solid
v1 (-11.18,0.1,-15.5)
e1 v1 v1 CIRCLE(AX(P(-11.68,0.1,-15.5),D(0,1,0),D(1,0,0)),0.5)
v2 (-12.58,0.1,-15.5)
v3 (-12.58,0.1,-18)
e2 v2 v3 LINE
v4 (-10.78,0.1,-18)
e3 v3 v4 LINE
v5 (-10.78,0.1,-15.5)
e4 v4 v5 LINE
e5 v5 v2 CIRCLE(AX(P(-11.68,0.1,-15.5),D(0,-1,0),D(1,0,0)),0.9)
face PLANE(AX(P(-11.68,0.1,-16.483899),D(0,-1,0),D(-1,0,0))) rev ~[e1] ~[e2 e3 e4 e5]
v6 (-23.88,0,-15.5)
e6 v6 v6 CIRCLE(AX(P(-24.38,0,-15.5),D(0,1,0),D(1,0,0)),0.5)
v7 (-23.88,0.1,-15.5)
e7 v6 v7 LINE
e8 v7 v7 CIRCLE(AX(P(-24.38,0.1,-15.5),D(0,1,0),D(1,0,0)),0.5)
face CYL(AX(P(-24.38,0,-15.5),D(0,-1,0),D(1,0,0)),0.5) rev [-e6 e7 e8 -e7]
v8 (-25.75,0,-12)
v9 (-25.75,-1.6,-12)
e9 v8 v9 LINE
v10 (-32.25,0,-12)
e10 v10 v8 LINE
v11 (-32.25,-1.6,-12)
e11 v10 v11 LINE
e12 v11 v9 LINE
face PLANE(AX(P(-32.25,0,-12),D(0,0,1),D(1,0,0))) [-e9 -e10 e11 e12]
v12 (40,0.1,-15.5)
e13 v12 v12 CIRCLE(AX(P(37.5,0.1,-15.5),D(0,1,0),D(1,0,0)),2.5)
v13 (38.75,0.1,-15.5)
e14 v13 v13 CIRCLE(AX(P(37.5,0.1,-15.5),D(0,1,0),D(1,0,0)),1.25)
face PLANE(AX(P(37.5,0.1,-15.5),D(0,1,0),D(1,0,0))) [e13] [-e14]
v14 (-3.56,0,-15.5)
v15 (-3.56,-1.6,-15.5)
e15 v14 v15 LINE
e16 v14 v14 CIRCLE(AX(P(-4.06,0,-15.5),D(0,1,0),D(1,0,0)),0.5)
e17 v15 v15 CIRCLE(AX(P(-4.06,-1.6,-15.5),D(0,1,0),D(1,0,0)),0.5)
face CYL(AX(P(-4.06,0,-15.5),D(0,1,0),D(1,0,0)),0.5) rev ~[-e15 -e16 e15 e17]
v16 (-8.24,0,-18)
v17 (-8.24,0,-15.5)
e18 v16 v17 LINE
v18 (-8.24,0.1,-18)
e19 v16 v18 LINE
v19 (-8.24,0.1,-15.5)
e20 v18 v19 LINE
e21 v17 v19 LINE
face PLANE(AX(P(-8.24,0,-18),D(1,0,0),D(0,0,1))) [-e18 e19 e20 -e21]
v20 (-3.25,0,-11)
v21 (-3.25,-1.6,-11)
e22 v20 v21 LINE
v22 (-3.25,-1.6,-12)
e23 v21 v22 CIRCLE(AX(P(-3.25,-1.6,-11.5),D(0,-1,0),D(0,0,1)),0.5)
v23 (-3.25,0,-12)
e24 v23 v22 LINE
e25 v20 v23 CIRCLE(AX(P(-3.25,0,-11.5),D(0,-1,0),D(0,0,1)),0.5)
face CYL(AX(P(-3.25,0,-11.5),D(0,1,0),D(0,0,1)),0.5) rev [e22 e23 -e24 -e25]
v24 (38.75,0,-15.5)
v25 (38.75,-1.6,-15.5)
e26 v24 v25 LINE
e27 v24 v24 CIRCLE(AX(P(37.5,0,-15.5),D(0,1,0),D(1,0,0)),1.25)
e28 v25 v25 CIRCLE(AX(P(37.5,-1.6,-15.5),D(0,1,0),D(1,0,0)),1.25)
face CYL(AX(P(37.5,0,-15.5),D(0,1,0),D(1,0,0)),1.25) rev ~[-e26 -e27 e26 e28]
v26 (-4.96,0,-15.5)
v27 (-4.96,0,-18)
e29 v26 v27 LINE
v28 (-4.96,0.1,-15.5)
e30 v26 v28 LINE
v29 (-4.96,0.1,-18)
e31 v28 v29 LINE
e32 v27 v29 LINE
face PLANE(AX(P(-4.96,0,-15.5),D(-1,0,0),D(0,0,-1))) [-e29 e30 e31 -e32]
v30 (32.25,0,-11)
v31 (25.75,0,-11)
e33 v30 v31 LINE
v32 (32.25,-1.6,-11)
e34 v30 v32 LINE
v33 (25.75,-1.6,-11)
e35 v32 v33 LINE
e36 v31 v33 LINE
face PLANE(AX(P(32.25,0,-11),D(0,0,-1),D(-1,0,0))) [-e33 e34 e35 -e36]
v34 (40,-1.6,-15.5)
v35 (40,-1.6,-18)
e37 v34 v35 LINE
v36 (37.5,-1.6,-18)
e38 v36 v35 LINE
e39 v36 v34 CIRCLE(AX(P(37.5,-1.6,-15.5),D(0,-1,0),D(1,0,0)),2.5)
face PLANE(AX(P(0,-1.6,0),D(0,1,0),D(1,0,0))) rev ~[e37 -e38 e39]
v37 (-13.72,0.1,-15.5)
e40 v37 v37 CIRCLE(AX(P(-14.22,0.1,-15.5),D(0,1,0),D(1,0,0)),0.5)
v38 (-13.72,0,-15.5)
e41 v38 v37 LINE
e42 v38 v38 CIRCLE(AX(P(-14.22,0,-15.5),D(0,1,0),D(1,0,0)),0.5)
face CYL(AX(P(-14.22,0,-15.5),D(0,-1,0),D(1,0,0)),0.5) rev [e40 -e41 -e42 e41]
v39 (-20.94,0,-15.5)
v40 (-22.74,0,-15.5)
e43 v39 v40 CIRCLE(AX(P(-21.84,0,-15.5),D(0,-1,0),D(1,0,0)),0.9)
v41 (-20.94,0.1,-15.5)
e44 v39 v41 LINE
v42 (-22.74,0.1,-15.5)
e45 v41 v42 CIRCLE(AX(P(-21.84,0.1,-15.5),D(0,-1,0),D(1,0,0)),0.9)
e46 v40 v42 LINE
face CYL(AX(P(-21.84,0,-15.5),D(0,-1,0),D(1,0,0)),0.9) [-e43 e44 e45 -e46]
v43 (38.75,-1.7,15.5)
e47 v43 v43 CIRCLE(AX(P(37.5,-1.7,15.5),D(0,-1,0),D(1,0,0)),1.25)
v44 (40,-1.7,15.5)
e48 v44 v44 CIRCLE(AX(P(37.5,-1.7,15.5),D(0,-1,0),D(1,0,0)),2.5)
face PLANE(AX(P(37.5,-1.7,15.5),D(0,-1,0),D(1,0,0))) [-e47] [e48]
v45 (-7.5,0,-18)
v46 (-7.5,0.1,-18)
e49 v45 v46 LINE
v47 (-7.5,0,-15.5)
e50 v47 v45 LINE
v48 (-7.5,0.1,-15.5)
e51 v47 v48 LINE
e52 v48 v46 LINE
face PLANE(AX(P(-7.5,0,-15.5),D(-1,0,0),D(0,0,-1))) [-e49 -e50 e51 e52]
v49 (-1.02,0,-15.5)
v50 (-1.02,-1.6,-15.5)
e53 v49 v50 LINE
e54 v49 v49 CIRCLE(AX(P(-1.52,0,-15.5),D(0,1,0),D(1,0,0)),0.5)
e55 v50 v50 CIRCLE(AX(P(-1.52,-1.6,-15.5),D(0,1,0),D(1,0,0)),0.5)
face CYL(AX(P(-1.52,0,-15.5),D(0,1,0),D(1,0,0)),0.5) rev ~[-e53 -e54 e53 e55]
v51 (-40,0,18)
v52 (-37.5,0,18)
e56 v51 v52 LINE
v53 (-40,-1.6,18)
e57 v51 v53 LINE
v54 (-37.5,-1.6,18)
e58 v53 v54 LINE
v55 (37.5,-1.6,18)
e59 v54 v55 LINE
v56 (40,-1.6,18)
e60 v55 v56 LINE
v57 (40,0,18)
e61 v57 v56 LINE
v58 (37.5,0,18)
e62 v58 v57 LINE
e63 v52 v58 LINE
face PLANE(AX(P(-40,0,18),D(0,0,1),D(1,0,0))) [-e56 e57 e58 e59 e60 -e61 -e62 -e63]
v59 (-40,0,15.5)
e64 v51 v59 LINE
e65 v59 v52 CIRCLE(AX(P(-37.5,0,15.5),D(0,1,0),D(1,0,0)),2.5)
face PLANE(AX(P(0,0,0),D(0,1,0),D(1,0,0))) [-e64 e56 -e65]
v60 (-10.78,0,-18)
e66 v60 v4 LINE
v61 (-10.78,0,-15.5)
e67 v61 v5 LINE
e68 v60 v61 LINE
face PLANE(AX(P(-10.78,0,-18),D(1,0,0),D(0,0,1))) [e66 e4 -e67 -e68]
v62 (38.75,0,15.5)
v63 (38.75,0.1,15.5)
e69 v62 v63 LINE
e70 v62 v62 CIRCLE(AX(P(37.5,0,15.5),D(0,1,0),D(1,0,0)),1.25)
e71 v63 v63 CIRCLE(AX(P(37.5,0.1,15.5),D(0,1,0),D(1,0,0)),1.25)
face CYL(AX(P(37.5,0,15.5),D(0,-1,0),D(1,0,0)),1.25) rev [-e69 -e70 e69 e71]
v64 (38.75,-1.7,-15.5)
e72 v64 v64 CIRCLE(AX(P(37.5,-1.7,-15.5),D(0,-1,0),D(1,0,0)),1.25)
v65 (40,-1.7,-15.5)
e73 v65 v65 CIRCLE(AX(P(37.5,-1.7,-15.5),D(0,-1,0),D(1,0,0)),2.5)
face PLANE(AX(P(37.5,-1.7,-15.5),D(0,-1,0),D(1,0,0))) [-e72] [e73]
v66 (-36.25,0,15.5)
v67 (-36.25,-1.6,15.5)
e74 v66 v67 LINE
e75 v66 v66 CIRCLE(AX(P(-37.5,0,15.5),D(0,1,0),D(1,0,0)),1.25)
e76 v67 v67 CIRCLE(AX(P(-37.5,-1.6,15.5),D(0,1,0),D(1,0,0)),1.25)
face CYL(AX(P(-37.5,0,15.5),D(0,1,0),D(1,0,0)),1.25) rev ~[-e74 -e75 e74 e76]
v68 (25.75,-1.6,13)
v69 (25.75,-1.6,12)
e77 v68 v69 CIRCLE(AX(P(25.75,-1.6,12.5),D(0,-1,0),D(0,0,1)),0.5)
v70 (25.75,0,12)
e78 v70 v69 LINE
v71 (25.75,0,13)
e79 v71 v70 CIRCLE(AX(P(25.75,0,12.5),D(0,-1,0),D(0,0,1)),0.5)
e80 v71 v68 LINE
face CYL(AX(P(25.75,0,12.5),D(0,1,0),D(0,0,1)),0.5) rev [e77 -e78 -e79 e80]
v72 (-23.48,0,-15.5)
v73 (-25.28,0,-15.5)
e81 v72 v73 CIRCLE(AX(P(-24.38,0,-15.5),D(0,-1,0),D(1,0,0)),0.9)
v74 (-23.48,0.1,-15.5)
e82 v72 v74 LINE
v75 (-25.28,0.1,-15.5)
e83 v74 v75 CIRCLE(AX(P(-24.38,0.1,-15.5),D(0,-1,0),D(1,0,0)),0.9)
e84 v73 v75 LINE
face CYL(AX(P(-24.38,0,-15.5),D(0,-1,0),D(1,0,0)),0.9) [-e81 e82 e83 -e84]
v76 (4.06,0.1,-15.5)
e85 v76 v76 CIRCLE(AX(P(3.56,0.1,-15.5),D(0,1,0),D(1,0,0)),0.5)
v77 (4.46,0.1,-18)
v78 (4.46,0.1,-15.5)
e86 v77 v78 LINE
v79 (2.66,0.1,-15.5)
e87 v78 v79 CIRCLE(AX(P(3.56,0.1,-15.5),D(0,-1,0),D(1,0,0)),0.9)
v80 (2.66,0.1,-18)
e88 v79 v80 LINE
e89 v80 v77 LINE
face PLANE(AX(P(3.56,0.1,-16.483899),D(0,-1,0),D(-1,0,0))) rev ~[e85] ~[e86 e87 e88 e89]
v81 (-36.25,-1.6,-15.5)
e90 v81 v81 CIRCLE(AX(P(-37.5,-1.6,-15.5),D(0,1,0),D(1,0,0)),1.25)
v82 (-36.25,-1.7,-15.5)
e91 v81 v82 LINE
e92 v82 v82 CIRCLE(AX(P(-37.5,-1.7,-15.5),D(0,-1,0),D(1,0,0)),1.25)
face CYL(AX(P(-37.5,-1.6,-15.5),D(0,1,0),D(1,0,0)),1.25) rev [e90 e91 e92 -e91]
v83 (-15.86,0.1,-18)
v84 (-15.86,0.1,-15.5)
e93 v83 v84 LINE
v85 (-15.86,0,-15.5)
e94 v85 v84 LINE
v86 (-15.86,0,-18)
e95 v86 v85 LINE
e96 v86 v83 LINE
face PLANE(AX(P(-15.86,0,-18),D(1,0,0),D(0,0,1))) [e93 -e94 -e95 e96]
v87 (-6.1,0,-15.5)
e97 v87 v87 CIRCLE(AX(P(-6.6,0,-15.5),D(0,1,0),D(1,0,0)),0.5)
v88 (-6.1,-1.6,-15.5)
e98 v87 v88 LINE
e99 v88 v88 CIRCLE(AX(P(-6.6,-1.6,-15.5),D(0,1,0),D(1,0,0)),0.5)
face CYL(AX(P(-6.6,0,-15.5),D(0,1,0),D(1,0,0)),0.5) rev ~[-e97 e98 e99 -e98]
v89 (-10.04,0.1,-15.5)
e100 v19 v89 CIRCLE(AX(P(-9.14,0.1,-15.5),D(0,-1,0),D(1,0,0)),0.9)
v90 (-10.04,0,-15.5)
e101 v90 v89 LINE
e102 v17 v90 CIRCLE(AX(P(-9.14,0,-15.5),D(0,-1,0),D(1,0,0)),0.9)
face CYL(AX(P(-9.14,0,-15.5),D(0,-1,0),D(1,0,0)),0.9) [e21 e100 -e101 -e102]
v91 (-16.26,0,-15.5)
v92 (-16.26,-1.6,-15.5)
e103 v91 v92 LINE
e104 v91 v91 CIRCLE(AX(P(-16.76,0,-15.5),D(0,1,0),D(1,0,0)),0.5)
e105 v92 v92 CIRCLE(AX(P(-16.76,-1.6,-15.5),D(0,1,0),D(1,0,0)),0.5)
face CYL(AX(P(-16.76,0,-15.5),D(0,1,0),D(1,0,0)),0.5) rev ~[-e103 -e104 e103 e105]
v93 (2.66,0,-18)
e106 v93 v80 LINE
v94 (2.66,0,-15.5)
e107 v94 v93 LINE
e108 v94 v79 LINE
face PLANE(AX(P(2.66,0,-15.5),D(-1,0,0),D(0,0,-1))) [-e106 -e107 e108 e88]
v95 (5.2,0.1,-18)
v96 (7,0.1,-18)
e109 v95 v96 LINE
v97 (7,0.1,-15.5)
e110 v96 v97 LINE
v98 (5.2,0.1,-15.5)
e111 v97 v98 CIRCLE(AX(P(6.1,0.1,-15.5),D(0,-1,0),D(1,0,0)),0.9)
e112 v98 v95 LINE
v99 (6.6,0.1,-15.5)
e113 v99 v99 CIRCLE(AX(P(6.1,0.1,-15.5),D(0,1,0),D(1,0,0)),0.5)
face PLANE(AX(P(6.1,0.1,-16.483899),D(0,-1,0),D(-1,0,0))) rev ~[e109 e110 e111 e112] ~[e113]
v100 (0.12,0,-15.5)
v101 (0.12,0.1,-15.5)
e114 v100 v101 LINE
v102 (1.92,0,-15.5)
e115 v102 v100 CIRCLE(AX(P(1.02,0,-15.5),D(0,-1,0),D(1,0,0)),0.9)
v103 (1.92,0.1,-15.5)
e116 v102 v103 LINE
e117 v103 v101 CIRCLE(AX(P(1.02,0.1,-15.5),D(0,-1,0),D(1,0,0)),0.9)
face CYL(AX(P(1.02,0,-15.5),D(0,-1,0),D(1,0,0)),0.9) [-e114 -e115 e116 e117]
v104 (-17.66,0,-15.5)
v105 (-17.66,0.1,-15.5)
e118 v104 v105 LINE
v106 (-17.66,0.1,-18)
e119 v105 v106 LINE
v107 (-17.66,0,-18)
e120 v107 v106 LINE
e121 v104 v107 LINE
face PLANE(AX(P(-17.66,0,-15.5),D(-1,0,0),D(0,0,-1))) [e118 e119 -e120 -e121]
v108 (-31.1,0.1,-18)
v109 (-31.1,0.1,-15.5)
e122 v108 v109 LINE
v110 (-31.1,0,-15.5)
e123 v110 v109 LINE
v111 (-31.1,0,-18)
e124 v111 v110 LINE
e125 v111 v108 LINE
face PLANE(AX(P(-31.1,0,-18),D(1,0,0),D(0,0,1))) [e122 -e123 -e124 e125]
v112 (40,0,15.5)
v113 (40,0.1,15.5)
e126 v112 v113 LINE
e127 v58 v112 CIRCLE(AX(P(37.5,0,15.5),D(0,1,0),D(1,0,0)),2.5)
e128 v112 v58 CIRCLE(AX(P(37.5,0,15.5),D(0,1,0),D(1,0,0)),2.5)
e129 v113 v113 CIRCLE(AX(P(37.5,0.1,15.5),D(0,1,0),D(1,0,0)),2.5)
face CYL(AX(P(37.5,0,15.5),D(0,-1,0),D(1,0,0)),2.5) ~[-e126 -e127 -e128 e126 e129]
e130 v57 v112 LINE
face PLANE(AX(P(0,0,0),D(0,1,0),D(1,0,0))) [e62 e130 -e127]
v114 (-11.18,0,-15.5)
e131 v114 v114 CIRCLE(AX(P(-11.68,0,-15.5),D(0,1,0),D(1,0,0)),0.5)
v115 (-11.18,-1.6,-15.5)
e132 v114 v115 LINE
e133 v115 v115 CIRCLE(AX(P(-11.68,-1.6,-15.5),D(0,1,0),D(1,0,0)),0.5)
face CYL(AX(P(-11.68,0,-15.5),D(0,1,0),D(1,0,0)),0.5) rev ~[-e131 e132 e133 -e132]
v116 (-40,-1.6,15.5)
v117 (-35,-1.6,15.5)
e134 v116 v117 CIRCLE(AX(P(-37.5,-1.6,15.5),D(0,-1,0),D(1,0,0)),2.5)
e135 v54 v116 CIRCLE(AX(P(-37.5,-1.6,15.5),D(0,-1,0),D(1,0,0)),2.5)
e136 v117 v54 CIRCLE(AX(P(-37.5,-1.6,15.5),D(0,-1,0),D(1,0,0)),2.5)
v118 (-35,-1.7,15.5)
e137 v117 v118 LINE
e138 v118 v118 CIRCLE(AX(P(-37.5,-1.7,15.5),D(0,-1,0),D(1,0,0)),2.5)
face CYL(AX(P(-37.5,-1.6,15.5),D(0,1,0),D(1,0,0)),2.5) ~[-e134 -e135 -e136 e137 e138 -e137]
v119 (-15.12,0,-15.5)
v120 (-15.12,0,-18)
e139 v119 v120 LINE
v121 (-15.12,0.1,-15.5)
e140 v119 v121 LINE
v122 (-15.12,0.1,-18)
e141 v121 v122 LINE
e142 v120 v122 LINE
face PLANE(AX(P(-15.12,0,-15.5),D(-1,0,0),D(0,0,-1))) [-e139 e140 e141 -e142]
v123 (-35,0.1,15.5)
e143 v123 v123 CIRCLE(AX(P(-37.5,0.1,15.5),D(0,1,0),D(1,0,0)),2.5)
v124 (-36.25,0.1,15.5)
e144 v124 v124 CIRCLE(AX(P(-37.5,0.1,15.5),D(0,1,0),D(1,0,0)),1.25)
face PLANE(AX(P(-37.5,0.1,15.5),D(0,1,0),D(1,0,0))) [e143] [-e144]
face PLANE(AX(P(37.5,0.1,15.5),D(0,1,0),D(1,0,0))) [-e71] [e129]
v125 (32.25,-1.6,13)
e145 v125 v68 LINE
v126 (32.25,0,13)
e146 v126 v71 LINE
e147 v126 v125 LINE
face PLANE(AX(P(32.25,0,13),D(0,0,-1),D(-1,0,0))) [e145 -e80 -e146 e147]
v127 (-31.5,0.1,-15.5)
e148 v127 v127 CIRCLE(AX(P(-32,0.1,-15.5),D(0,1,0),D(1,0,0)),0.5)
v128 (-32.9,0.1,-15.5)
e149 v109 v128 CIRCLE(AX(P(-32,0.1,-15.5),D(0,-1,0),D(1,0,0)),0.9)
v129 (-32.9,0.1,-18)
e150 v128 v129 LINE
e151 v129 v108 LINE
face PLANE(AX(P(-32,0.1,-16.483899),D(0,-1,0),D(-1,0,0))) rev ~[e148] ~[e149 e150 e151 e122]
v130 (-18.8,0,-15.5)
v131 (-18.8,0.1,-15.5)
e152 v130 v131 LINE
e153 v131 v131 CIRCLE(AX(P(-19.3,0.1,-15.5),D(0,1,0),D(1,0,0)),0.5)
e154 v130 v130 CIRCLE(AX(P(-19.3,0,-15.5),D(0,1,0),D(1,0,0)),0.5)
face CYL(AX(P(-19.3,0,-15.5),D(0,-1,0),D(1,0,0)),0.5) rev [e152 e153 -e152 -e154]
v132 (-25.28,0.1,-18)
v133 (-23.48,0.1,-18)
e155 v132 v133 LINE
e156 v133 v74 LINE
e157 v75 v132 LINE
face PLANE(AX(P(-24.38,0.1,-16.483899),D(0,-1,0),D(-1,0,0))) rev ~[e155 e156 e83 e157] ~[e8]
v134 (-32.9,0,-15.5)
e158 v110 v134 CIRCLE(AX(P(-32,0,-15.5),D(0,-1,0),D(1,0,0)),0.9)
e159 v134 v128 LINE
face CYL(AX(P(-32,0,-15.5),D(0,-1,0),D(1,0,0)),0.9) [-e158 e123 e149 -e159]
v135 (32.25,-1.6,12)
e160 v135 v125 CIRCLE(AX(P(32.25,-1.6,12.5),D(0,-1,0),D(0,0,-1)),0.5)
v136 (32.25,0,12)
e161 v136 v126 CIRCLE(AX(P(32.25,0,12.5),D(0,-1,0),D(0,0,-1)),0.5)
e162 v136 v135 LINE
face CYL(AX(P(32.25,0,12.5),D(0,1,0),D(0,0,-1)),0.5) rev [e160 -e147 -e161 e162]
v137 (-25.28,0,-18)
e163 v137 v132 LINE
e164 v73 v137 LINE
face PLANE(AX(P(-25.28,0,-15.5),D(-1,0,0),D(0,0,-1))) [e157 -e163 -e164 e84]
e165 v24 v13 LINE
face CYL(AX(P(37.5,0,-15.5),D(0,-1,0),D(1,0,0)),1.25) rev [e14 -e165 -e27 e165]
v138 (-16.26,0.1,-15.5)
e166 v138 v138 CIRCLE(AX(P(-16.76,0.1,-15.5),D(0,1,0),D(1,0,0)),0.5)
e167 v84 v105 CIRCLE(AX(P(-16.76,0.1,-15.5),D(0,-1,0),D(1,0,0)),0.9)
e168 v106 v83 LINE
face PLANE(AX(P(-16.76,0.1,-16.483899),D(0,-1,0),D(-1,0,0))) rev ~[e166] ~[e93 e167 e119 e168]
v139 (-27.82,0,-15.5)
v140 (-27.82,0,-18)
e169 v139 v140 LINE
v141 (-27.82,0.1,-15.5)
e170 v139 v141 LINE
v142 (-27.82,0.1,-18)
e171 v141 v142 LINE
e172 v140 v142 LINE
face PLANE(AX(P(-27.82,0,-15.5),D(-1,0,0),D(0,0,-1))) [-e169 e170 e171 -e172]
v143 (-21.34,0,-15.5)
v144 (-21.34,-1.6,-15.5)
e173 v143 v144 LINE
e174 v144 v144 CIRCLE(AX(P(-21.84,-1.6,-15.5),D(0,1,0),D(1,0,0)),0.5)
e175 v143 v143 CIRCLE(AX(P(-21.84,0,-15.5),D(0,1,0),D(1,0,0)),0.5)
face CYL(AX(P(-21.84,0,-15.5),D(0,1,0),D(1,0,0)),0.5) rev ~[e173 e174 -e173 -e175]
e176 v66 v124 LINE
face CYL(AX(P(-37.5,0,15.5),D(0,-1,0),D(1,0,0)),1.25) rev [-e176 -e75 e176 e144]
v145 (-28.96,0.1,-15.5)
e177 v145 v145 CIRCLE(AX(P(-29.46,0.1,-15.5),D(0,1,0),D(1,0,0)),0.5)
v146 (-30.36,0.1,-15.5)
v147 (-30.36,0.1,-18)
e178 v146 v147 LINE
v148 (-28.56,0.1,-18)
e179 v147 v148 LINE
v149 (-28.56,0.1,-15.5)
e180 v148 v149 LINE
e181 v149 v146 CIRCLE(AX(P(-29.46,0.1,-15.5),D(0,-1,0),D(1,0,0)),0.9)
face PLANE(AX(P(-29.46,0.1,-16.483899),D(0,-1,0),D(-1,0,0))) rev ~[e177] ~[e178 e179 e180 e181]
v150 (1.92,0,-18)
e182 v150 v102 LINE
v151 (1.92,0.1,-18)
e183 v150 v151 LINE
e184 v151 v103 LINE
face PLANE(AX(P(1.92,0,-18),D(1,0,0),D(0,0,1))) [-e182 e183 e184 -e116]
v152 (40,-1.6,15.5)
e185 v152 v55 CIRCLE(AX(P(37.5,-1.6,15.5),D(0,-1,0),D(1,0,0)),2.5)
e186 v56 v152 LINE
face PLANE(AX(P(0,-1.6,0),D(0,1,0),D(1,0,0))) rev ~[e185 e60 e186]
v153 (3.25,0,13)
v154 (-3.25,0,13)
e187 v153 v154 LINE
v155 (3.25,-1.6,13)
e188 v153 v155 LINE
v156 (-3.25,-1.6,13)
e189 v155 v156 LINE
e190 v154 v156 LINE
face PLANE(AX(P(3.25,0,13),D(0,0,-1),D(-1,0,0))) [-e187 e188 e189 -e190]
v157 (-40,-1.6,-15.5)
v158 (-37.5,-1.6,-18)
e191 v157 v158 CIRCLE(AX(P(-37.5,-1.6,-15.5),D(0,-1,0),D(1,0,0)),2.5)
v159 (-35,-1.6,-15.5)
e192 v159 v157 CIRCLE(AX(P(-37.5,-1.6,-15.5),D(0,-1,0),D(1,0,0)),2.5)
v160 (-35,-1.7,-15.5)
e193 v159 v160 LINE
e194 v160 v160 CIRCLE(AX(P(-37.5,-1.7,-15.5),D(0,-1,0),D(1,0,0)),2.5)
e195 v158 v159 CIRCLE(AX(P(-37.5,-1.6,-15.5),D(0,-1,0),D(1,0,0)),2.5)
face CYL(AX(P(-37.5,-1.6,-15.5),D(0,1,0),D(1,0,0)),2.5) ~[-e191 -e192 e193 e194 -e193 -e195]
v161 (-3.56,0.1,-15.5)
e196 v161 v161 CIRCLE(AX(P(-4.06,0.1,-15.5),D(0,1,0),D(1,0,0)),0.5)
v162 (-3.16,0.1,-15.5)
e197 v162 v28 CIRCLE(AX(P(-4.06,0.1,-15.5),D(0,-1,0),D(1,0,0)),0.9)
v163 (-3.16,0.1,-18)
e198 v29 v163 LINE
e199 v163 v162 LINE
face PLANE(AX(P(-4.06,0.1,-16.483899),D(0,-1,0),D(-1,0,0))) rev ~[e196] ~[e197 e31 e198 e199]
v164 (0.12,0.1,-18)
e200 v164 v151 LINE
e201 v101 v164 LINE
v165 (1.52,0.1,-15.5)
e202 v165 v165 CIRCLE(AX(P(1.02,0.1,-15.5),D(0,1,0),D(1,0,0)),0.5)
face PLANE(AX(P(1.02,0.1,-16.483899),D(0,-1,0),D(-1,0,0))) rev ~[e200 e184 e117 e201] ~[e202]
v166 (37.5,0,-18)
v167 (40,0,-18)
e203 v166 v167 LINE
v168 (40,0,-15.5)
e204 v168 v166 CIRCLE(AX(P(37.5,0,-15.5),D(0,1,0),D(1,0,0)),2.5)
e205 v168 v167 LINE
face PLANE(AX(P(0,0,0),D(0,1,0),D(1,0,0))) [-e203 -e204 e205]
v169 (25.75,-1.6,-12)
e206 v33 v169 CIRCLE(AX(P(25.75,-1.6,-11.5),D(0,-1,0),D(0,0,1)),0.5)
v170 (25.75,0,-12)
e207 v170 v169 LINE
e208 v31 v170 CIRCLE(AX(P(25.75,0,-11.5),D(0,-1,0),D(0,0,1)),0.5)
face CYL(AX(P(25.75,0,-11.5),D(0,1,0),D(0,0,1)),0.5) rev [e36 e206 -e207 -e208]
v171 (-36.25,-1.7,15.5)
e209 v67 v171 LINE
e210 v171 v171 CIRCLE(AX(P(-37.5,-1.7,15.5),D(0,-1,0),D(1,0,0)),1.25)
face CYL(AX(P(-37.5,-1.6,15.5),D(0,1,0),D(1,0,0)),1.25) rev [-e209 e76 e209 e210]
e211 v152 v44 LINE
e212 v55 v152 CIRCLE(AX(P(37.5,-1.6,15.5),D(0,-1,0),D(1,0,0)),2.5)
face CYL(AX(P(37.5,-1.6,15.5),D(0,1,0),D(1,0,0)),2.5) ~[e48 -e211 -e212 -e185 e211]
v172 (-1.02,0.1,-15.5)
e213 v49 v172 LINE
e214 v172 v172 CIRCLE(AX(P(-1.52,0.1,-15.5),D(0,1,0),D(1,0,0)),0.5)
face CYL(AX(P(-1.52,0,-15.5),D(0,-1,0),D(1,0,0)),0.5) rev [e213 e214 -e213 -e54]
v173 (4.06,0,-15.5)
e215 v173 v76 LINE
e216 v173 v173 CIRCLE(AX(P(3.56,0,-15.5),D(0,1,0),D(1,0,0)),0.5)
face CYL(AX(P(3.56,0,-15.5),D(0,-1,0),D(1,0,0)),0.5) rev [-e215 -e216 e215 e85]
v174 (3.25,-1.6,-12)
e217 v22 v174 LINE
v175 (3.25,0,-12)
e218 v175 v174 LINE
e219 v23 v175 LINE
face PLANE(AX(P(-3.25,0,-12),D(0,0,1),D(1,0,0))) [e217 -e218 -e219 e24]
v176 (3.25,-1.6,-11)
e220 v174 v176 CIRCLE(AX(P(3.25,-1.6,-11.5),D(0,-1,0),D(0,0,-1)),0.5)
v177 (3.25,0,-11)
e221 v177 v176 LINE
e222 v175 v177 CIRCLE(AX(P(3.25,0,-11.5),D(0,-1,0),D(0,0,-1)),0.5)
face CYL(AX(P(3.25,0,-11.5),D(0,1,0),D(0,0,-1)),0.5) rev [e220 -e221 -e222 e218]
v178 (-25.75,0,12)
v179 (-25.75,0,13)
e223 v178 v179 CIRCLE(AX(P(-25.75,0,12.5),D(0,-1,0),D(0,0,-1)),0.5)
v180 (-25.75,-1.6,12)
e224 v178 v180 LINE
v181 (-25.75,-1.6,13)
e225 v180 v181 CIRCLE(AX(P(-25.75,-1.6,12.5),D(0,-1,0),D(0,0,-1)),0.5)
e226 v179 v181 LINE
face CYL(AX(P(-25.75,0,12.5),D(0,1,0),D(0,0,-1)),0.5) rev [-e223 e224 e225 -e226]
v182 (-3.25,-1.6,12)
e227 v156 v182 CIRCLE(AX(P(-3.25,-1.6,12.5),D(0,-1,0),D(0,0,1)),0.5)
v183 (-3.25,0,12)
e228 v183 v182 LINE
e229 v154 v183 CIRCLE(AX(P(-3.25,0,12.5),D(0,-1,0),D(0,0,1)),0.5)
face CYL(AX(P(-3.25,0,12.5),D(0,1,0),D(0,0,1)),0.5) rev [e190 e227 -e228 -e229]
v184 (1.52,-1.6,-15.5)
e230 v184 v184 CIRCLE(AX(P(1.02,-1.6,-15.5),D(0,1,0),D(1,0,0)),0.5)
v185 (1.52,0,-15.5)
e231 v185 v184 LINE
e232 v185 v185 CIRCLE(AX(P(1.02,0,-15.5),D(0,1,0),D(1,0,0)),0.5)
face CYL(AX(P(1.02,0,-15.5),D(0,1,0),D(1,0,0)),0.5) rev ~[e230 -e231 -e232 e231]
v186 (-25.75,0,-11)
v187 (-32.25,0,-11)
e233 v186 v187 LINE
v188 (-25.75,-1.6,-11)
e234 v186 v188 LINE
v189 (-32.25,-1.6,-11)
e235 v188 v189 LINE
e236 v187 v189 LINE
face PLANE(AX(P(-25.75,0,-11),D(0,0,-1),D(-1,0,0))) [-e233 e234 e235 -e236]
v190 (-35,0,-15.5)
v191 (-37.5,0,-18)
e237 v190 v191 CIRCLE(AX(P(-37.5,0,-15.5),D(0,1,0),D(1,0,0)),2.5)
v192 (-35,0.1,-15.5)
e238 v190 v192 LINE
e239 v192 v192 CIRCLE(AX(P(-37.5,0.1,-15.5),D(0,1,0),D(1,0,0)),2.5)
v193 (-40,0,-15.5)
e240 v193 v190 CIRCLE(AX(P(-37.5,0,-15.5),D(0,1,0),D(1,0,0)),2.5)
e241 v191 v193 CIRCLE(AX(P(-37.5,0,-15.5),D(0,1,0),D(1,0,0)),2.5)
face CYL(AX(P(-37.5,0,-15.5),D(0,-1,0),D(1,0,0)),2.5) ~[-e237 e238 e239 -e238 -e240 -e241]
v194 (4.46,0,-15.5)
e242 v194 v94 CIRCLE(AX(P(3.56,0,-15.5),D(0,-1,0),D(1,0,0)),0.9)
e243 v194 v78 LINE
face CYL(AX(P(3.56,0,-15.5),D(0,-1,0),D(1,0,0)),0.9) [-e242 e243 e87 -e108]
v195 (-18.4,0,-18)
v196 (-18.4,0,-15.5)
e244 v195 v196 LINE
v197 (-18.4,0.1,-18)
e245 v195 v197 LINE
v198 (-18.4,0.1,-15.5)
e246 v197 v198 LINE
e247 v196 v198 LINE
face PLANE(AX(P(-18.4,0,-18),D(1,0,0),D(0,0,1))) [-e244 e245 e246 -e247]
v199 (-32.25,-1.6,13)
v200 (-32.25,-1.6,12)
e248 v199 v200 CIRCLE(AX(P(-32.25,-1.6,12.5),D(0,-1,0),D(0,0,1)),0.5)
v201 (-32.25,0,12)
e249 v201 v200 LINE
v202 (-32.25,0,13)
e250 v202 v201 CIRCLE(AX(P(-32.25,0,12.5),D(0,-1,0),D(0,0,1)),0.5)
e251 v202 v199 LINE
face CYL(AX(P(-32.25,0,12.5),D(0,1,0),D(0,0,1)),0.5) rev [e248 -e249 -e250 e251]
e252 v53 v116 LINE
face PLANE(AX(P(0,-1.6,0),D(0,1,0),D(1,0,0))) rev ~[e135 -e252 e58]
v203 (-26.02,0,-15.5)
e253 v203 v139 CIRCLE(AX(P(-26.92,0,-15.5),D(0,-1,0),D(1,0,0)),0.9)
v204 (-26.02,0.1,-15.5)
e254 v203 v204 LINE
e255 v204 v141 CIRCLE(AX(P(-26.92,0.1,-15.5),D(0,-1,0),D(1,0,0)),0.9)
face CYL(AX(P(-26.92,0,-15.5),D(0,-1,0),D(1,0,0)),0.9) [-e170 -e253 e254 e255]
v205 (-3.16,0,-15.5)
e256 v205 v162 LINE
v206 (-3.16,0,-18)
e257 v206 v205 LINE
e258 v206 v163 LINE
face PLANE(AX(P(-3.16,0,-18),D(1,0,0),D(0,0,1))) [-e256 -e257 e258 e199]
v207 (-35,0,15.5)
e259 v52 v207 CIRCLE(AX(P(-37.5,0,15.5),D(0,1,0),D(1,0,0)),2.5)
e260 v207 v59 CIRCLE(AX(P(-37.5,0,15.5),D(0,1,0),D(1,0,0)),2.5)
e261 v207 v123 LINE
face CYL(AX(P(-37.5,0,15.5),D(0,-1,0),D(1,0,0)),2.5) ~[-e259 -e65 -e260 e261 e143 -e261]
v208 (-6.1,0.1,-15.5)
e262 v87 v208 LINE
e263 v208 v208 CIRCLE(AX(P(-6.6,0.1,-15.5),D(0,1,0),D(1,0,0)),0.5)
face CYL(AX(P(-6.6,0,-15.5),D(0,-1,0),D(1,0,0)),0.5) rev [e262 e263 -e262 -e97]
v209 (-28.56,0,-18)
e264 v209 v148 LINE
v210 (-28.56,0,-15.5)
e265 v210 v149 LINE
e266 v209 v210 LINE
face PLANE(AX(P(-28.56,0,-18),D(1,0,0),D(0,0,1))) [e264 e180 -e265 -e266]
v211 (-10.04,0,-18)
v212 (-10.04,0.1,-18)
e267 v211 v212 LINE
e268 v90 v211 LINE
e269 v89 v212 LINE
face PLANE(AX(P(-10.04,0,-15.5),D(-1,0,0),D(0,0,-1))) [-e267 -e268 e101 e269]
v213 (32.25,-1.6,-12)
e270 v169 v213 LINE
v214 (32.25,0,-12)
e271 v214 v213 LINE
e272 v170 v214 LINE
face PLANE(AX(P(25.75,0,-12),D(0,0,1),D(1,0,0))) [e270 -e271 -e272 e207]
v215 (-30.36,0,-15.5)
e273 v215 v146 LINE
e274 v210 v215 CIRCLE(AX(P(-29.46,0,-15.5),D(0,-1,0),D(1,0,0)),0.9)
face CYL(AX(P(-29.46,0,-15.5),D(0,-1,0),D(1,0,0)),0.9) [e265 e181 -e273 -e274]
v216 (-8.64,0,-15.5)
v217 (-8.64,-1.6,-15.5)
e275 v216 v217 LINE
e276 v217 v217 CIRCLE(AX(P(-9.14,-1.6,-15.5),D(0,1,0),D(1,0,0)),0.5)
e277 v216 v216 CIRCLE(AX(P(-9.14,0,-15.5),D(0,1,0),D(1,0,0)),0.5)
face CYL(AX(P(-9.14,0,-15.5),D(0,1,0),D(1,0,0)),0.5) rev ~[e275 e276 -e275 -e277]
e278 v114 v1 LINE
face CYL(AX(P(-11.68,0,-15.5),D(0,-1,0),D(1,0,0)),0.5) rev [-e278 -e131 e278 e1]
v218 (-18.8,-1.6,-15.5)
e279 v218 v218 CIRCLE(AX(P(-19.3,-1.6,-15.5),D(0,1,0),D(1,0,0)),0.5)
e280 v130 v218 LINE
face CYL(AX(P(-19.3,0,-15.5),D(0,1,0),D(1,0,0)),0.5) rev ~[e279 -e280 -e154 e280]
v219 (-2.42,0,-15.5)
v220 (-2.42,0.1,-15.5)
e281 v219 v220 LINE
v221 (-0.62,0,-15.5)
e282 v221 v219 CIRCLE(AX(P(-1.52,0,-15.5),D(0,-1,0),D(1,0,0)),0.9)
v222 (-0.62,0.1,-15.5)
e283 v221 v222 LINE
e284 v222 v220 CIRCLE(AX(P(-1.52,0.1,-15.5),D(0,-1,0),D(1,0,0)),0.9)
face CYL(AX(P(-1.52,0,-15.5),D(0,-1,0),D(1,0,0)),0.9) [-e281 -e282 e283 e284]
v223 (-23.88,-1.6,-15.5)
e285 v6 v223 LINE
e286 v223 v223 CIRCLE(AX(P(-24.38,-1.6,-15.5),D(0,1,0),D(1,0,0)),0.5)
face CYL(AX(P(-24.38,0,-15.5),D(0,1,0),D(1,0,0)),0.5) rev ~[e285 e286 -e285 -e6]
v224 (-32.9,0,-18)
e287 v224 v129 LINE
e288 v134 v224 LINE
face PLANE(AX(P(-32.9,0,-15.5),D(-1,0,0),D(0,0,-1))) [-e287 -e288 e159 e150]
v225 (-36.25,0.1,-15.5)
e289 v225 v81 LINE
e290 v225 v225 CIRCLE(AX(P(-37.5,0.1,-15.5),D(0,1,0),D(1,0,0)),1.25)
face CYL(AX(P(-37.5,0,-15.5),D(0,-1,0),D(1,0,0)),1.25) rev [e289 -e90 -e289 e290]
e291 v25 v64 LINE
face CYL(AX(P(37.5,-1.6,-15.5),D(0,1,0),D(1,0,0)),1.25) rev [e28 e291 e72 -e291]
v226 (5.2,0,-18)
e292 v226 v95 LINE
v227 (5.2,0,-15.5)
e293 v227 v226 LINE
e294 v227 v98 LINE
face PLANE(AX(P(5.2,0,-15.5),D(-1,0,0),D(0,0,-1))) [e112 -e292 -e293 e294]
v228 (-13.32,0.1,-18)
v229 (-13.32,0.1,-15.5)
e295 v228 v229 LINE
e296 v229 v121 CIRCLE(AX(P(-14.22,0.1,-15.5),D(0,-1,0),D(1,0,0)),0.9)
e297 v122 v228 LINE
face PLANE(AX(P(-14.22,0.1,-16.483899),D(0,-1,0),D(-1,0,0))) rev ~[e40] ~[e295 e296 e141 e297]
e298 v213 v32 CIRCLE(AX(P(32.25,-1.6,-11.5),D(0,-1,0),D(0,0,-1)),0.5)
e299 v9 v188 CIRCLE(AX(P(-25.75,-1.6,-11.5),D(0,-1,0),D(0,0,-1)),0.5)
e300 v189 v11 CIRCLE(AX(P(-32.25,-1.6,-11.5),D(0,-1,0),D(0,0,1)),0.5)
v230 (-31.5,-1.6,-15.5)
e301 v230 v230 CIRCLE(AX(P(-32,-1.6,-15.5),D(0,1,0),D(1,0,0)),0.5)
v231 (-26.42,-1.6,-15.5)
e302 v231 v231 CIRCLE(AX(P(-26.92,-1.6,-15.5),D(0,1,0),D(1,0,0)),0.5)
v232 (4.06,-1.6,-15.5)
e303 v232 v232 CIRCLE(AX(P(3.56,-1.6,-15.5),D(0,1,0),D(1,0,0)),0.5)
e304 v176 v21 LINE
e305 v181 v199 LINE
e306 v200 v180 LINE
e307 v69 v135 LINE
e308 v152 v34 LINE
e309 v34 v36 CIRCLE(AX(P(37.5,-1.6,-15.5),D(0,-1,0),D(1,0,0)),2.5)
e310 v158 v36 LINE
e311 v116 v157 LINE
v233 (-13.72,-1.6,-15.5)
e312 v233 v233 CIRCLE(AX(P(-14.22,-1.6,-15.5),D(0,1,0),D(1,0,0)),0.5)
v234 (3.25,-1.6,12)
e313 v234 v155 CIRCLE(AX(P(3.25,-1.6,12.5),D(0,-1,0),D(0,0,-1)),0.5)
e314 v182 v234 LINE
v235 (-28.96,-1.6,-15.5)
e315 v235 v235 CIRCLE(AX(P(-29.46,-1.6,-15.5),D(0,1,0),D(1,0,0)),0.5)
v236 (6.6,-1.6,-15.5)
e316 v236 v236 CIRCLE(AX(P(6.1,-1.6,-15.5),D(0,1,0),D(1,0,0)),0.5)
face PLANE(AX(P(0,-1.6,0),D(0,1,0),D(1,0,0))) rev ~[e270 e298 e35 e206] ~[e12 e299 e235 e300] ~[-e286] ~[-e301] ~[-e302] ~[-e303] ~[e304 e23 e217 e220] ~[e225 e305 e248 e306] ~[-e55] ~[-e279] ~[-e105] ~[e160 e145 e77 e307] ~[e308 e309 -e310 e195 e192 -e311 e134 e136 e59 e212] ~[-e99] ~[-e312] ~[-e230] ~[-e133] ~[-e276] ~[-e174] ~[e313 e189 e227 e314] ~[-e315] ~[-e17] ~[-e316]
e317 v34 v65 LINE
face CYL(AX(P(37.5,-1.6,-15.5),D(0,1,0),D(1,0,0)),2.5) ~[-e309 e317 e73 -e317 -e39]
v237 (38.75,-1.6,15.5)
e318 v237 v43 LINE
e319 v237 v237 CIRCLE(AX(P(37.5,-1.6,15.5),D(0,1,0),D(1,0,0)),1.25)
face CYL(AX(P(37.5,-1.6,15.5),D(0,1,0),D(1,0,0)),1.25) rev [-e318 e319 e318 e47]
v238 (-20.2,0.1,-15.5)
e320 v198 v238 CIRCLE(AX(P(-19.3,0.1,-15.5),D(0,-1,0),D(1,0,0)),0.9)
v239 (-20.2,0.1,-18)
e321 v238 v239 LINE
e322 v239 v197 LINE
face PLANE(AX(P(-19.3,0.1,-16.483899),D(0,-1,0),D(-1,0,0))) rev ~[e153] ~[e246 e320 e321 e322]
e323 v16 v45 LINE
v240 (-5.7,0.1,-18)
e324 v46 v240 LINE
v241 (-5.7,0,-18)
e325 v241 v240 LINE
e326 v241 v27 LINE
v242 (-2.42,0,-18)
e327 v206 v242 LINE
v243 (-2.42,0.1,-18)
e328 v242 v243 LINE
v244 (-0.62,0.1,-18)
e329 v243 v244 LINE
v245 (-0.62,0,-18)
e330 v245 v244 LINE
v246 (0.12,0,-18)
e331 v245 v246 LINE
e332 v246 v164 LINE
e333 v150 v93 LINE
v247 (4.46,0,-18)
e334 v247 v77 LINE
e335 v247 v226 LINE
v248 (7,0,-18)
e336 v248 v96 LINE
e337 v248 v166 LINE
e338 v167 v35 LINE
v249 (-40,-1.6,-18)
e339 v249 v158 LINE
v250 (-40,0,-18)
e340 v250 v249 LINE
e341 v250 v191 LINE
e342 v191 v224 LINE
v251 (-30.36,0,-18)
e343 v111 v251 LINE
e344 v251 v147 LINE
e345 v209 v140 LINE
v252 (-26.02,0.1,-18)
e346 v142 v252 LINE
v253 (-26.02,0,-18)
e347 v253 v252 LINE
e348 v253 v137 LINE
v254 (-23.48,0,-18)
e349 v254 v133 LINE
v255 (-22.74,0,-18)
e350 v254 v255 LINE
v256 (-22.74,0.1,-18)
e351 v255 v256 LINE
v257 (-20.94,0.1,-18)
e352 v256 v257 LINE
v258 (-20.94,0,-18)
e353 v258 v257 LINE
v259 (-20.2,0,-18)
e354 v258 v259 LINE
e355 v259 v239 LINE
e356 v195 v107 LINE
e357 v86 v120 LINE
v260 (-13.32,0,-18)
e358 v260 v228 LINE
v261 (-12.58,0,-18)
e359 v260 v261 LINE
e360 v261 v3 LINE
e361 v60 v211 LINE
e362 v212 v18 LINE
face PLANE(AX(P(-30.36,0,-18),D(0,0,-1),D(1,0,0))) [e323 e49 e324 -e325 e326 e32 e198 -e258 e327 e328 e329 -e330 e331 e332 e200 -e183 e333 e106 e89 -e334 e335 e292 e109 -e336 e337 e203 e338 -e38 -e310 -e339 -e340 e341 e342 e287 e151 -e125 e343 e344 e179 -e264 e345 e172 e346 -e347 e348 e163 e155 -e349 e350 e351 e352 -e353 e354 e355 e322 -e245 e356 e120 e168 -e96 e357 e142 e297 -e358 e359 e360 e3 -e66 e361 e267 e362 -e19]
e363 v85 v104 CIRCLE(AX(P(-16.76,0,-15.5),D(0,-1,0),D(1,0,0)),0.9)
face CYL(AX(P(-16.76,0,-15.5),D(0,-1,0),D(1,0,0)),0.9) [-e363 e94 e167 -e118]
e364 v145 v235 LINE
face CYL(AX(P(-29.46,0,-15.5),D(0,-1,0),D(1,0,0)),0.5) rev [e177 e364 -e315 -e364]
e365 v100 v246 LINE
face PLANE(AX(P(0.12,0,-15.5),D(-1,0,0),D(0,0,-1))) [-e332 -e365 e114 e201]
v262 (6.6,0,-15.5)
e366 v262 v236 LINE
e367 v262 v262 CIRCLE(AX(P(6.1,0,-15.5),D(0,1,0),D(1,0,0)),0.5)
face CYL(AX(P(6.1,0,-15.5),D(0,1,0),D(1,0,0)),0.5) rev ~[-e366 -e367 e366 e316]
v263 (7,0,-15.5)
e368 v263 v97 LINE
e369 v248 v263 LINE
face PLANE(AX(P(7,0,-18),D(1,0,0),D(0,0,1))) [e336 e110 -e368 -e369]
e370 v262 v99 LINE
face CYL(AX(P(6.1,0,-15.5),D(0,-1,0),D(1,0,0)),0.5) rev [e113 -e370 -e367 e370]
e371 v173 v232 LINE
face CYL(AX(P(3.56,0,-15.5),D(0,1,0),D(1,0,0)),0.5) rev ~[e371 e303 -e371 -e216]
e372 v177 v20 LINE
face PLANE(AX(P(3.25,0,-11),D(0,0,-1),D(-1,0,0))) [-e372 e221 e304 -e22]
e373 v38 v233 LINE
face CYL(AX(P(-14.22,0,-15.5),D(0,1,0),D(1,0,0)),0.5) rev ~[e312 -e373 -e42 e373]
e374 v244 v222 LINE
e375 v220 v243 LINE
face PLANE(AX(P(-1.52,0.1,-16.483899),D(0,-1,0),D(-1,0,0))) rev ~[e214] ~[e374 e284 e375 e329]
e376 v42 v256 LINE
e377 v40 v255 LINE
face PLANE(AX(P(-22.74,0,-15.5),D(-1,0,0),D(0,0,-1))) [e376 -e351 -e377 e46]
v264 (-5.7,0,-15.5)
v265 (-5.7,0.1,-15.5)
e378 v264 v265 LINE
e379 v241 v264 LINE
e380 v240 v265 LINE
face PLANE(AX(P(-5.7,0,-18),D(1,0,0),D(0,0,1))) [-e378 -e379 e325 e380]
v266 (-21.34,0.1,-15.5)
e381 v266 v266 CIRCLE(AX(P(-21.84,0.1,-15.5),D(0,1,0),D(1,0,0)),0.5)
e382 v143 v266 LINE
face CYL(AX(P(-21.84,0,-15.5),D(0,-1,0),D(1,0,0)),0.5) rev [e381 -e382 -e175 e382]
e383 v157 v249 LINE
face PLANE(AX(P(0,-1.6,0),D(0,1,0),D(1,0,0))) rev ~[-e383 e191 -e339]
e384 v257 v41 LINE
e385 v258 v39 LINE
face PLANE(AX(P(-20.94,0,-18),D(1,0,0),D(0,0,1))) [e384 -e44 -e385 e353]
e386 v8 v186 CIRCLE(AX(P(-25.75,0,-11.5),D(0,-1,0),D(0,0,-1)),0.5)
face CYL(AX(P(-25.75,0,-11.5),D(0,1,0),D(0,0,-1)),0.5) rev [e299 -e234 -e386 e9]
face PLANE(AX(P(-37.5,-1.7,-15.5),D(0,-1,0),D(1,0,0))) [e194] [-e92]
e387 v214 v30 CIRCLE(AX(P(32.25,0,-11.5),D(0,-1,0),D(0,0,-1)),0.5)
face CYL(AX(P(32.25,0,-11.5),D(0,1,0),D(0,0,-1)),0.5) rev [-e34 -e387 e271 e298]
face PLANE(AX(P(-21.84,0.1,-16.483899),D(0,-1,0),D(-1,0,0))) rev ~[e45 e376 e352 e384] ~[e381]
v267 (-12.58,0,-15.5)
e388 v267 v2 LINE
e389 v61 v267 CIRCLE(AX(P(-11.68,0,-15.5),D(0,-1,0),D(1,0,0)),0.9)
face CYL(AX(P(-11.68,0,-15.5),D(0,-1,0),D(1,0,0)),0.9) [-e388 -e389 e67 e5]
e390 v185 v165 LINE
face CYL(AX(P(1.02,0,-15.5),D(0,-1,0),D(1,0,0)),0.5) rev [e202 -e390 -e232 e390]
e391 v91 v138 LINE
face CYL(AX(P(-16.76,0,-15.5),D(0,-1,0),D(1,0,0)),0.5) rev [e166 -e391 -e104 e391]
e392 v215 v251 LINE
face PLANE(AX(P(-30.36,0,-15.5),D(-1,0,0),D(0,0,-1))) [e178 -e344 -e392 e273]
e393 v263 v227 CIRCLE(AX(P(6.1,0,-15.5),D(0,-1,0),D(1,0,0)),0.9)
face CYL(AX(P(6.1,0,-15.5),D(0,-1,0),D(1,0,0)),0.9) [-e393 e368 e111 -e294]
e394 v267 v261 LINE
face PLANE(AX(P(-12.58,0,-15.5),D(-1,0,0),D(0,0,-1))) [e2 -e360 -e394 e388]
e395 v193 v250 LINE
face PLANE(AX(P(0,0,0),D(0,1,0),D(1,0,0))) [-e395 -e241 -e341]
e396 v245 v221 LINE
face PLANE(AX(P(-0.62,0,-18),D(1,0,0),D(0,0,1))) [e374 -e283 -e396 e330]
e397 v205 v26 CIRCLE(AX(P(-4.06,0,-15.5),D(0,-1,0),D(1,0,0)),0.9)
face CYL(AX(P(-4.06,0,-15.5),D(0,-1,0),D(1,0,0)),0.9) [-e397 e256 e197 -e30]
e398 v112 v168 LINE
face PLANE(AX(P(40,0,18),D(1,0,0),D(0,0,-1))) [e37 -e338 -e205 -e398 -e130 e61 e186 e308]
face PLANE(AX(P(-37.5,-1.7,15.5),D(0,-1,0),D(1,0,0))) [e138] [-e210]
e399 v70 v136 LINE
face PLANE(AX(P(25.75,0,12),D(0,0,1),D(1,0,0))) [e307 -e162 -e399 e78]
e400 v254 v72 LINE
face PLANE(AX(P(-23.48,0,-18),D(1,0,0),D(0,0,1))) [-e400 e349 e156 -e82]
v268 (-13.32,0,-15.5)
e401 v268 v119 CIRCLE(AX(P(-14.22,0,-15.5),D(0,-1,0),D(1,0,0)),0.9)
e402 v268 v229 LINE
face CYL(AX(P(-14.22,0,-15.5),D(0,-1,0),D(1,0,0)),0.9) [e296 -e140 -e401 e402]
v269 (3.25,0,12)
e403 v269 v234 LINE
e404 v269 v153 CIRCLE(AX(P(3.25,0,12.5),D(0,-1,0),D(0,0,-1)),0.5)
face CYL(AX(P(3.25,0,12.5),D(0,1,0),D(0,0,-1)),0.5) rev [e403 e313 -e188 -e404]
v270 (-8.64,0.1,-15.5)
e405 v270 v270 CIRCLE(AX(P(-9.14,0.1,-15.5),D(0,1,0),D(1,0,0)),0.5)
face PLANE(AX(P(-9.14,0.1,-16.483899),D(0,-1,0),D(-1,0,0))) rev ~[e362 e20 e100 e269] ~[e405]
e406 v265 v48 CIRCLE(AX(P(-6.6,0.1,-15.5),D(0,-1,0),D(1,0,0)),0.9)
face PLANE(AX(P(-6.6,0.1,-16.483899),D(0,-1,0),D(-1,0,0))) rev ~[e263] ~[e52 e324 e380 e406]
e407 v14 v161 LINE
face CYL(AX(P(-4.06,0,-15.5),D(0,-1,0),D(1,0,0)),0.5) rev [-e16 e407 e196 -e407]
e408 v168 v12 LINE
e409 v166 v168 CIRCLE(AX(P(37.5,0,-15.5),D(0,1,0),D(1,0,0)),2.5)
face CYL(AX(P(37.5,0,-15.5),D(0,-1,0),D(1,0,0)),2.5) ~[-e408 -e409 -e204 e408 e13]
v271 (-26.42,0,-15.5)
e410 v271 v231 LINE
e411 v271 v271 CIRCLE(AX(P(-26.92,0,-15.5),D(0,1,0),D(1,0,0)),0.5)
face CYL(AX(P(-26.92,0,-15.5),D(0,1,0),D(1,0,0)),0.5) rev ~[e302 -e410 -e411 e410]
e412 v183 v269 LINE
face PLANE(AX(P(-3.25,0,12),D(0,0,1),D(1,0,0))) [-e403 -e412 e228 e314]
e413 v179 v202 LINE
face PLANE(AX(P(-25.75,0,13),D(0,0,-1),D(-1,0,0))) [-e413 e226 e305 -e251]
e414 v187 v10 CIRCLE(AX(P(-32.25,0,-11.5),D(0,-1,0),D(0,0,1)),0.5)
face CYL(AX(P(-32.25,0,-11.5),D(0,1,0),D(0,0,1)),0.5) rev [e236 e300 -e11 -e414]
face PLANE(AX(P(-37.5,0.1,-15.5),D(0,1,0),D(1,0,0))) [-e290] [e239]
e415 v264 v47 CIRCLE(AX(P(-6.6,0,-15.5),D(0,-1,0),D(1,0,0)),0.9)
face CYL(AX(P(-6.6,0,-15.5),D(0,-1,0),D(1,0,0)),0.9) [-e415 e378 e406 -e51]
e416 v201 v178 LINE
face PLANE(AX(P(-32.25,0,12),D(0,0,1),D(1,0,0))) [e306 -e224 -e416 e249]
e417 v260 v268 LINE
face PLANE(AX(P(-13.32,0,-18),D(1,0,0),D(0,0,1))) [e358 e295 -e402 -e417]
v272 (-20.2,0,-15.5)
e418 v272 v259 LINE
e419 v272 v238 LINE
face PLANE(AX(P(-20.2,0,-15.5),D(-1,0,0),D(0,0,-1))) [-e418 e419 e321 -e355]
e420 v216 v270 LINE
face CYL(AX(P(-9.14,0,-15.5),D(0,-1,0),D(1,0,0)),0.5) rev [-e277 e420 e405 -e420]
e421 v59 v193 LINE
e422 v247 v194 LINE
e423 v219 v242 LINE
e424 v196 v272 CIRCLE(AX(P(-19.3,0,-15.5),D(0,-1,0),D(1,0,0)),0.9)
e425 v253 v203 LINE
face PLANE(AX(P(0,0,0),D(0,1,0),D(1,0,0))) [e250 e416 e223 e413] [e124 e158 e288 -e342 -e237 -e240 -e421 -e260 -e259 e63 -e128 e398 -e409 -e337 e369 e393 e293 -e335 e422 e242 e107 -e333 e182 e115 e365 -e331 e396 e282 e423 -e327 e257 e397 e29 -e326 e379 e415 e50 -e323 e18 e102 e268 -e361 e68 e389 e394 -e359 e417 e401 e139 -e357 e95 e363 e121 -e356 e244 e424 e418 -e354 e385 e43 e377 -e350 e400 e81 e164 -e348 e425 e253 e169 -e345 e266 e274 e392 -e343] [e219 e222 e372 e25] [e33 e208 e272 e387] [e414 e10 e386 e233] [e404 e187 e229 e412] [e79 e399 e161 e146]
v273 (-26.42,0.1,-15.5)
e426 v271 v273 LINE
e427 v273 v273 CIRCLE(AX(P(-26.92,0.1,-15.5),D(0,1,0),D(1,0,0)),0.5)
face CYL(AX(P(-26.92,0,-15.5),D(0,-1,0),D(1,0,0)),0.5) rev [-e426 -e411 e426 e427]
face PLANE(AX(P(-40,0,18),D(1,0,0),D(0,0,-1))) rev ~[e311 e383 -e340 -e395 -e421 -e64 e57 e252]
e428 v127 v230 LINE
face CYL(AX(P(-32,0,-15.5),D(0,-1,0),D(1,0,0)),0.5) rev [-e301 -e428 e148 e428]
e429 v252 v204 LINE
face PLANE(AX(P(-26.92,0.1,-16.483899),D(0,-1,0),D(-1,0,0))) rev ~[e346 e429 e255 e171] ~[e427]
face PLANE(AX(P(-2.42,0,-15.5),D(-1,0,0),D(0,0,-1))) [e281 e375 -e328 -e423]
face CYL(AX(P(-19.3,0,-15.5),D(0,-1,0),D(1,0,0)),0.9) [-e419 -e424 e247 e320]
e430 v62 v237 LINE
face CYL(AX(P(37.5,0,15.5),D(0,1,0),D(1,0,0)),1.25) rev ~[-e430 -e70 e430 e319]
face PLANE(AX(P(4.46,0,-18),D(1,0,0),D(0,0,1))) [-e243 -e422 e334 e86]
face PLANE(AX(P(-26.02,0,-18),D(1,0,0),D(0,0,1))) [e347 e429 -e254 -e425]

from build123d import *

# Parameters (mm, degrees)
SKETCH1_W           = 80
SKETCH1_H           = 36
SKETCH1_R           = 1.25
SKETCH1_R_2         = 0.5
BOSS_EXTRUDE1_DEPTH = 1.6
SKETCH2_R           = 0.5
BOSS_EXTRUDE2_DEPTH = 0.1
LPATTERN1_COUNT     = 16
LPATTERN1_PITCH     = 2.54
SKETCH3_R           = 2.5
SKETCH3_R_2         = 1.25
BOSS_EXTRUDE3_DEPTH = 0.1
SKETCH4_R           = 2.5
SKETCH4_R_2         = 1.25
BOSS_EXTRUDE4_DEPTH = 0.1


with BuildPart() as part:
    # Sketch1 → Boss-Extrude1 (new body)
    with BuildSketch(Plane(origin=(0, 0, 0), x_dir=(1, 0, 0), z_dir=(0, 1, 0))):
        Rectangle(SKETCH1_W, SKETCH1_H)
        with Locations((-37.5, 15.5)):
            Circle(SKETCH1_R, mode=Mode.SUBTRACT)
        with Locations((-37.5, -15.5)):
            Circle(SKETCH1_R, mode=Mode.SUBTRACT)
        with Locations((37.5, 15.5)):
            Circle(SKETCH1_R, mode=Mode.SUBTRACT)
        with Locations((37.5, -15.5)):
            Circle(SKETCH1_R, mode=Mode.SUBTRACT)
        with Locations((-32, 15.5)):
            Circle(SKETCH1_R_2, mode=Mode.SUBTRACT)
        with Locations((-29.46, 15.5)):
            Circle(SKETCH1_R_2, mode=Mode.SUBTRACT)
        with Locations((-26.92, 15.5)):
            Circle(SKETCH1_R_2, mode=Mode.SUBTRACT)
        with Locations((-24.38, 15.5)):
            Circle(SKETCH1_R_2, mode=Mode.SUBTRACT)
        with Locations((-21.84, 15.5)):
            Circle(SKETCH1_R_2, mode=Mode.SUBTRACT)
        with Locations((-19.3, 15.5)):
            Circle(SKETCH1_R_2, mode=Mode.SUBTRACT)
        with Locations((-16.76, 15.5)):
            Circle(SKETCH1_R_2, mode=Mode.SUBTRACT)
        with Locations((-14.22, 15.5)):
            Circle(SKETCH1_R_2, mode=Mode.SUBTRACT)
        with Locations((-11.68, 15.5)):
            Circle(SKETCH1_R_2, mode=Mode.SUBTRACT)
        with Locations((-9.14, 15.5)):
            Circle(SKETCH1_R_2, mode=Mode.SUBTRACT)
        with Locations((-6.6, 15.5)):
            Circle(SKETCH1_R_2, mode=Mode.SUBTRACT)
        with Locations((-4.06, 15.5)):
            Circle(SKETCH1_R_2, mode=Mode.SUBTRACT)
        with Locations((-1.52, 15.5)):
            Circle(SKETCH1_R_2, mode=Mode.SUBTRACT)
        with Locations((1.02, 15.5)):
            Circle(SKETCH1_R_2, mode=Mode.SUBTRACT)
        with Locations((3.56, 15.5)):
            Circle(SKETCH1_R_2, mode=Mode.SUBTRACT)
        with Locations((6.1, 15.5)):
            Circle(SKETCH1_R_2, mode=Mode.SUBTRACT)
        with BuildLine():
            Line((-3.25, -12), (3.25, -12))
            ThreePointArc((3.25, -12), (3.75, -12.5), (3.25, -13))
            Line((3.25, -13), (-3.25, -13))
            ThreePointArc((-3.25, -13), (-3.75, -12.5), (-3.25, -12))
        make_face(mode=Mode.SUBTRACT)
        with BuildLine():
            Line((25.75, -12), (32.25, -12))
            ThreePointArc((32.25, -12), (32.75, -12.5), (32.25, -13))
            Line((32.25, -13), (25.75, -13))
            ThreePointArc((25.75, -13), (25.25, -12.5), (25.75, -12))
        make_face(mode=Mode.SUBTRACT)
        with BuildLine():
            Line((25.75, 12), (32.25, 12))
            ThreePointArc((32.25, 12), (32.75, 11.5), (32.25, 11))
            Line((32.25, 11), (25.75, 11))
            ThreePointArc((25.75, 11), (25.25, 11.5), (25.75, 12))
        make_face(mode=Mode.SUBTRACT)
        with BuildLine():
            Line((-3.25, 12), (3.25, 12))
            ThreePointArc((3.25, 12), (3.75, 11.5), (3.25, 11))
            Line((3.25, 11), (-3.25, 11))
            ThreePointArc((-3.25, 11), (-3.75, 11.5), (-3.25, 12))
        make_face(mode=Mode.SUBTRACT)
        with BuildLine():
            Line((-32.25, -12), (-25.75, -12))
            ThreePointArc((-25.75, -12), (-25.25, -12.5), (-25.75, -13))
            Line((-25.75, -13), (-32.25, -13))
            ThreePointArc((-32.25, -13), (-32.75, -12.5), (-32.25, -12))
        make_face(mode=Mode.SUBTRACT)
        with BuildLine():
            Line((-32.25, 12), (-25.75, 12))
            ThreePointArc((-25.75, 12), (-25.25, 11.5), (-25.75, 11))
            Line((-25.75, 11), (-32.25, 11))
            ThreePointArc((-32.25, 11), (-32.75, 11.5), (-32.25, 12))
        make_face(mode=Mode.SUBTRACT)
    extrude(amount=-BOSS_EXTRUDE1_DEPTH)

    # Sketch2 → Boss-Extrude2 (add)
    with BuildSketch(Plane(origin=(0, 0, 0), x_dir=(1, 0, 0), z_dir=(0, 1, 0))):
        with BuildLine():
            Line((-32.9, 15.5), (-32.9, 18))
            Line((-32.9, 18), (-31.1, 18))
            Line((-31.1, 18), (-31.1, 15.5))
            ThreePointArc((-31.1, 15.5), (-32, 14.6), (-32.9, 15.5))
        make_face()
        with Locations((-32, 15.5)):
            Circle(SKETCH2_R, mode=Mode.SUBTRACT)
    boss_extrude2 = extrude(amount=BOSS_EXTRUDE2_DEPTH)

    # LPattern1: Boss-Extrude2 ×16
    with Locations(*[(i * LPATTERN1_PITCH, 0, 0) for i in range(1, LPATTERN1_COUNT)]):
        add(boss_extrude2)

    # Sketch3 → Boss-Extrude3 (add)
    with BuildSketch(Plane(origin=(0, 0, 0), x_dir=(1, 0, 0), z_dir=(0, 1, 0))):
        with Locations((-37.5, 15.5)):
            Circle(SKETCH3_R)
        with Locations((-37.5, 15.5)):
            Circle(SKETCH3_R_2, mode=Mode.SUBTRACT)
        with Locations((-37.5, -15.5)):
            Circle(SKETCH3_R)
        with Locations((-37.5, -15.5)):
            Circle(SKETCH3_R_2, mode=Mode.SUBTRACT)
        with Locations((37.5, -15.5)):
            Circle(SKETCH3_R)
        with Locations((37.5, -15.5)):
            Circle(SKETCH3_R_2, mode=Mode.SUBTRACT)
        with Locations((37.5, 15.5)):
            Circle(SKETCH3_R)
        with Locations((37.5, 15.5)):
            Circle(SKETCH3_R_2, mode=Mode.SUBTRACT)
    extrude(amount=BOSS_EXTRUDE3_DEPTH)

    # Sketch4 → Boss-Extrude4 (add)
    with BuildSketch(Plane.XZ.offset(1.6)):
        with Locations((37.5, -15.5)):
            Circle(SKETCH4_R)
        with Locations((37.5, -15.5)):
            Circle(SKETCH4_R_2, mode=Mode.SUBTRACT)
        with Locations((37.5, 15.5)):
            Circle(SKETCH4_R)
        with Locations((37.5, 15.5)):
            Circle(SKETCH4_R_2, mode=Mode.SUBTRACT)
        with Locations((-37.5, 15.5)):
            Circle(SKETCH4_R)
        with Locations((-37.5, 15.5)):
            Circle(SKETCH4_R_2, mode=Mode.SUBTRACT)
        with Locations((-37.5, -15.5)):
            Circle(SKETCH4_R)
        with Locations((-37.5, -15.5)):
            Circle(SKETCH4_R_2, mode=Mode.SUBTRACT)
    extrude(amount=BOSS_EXTRUDE4_DEPTH)


solid = part.part
